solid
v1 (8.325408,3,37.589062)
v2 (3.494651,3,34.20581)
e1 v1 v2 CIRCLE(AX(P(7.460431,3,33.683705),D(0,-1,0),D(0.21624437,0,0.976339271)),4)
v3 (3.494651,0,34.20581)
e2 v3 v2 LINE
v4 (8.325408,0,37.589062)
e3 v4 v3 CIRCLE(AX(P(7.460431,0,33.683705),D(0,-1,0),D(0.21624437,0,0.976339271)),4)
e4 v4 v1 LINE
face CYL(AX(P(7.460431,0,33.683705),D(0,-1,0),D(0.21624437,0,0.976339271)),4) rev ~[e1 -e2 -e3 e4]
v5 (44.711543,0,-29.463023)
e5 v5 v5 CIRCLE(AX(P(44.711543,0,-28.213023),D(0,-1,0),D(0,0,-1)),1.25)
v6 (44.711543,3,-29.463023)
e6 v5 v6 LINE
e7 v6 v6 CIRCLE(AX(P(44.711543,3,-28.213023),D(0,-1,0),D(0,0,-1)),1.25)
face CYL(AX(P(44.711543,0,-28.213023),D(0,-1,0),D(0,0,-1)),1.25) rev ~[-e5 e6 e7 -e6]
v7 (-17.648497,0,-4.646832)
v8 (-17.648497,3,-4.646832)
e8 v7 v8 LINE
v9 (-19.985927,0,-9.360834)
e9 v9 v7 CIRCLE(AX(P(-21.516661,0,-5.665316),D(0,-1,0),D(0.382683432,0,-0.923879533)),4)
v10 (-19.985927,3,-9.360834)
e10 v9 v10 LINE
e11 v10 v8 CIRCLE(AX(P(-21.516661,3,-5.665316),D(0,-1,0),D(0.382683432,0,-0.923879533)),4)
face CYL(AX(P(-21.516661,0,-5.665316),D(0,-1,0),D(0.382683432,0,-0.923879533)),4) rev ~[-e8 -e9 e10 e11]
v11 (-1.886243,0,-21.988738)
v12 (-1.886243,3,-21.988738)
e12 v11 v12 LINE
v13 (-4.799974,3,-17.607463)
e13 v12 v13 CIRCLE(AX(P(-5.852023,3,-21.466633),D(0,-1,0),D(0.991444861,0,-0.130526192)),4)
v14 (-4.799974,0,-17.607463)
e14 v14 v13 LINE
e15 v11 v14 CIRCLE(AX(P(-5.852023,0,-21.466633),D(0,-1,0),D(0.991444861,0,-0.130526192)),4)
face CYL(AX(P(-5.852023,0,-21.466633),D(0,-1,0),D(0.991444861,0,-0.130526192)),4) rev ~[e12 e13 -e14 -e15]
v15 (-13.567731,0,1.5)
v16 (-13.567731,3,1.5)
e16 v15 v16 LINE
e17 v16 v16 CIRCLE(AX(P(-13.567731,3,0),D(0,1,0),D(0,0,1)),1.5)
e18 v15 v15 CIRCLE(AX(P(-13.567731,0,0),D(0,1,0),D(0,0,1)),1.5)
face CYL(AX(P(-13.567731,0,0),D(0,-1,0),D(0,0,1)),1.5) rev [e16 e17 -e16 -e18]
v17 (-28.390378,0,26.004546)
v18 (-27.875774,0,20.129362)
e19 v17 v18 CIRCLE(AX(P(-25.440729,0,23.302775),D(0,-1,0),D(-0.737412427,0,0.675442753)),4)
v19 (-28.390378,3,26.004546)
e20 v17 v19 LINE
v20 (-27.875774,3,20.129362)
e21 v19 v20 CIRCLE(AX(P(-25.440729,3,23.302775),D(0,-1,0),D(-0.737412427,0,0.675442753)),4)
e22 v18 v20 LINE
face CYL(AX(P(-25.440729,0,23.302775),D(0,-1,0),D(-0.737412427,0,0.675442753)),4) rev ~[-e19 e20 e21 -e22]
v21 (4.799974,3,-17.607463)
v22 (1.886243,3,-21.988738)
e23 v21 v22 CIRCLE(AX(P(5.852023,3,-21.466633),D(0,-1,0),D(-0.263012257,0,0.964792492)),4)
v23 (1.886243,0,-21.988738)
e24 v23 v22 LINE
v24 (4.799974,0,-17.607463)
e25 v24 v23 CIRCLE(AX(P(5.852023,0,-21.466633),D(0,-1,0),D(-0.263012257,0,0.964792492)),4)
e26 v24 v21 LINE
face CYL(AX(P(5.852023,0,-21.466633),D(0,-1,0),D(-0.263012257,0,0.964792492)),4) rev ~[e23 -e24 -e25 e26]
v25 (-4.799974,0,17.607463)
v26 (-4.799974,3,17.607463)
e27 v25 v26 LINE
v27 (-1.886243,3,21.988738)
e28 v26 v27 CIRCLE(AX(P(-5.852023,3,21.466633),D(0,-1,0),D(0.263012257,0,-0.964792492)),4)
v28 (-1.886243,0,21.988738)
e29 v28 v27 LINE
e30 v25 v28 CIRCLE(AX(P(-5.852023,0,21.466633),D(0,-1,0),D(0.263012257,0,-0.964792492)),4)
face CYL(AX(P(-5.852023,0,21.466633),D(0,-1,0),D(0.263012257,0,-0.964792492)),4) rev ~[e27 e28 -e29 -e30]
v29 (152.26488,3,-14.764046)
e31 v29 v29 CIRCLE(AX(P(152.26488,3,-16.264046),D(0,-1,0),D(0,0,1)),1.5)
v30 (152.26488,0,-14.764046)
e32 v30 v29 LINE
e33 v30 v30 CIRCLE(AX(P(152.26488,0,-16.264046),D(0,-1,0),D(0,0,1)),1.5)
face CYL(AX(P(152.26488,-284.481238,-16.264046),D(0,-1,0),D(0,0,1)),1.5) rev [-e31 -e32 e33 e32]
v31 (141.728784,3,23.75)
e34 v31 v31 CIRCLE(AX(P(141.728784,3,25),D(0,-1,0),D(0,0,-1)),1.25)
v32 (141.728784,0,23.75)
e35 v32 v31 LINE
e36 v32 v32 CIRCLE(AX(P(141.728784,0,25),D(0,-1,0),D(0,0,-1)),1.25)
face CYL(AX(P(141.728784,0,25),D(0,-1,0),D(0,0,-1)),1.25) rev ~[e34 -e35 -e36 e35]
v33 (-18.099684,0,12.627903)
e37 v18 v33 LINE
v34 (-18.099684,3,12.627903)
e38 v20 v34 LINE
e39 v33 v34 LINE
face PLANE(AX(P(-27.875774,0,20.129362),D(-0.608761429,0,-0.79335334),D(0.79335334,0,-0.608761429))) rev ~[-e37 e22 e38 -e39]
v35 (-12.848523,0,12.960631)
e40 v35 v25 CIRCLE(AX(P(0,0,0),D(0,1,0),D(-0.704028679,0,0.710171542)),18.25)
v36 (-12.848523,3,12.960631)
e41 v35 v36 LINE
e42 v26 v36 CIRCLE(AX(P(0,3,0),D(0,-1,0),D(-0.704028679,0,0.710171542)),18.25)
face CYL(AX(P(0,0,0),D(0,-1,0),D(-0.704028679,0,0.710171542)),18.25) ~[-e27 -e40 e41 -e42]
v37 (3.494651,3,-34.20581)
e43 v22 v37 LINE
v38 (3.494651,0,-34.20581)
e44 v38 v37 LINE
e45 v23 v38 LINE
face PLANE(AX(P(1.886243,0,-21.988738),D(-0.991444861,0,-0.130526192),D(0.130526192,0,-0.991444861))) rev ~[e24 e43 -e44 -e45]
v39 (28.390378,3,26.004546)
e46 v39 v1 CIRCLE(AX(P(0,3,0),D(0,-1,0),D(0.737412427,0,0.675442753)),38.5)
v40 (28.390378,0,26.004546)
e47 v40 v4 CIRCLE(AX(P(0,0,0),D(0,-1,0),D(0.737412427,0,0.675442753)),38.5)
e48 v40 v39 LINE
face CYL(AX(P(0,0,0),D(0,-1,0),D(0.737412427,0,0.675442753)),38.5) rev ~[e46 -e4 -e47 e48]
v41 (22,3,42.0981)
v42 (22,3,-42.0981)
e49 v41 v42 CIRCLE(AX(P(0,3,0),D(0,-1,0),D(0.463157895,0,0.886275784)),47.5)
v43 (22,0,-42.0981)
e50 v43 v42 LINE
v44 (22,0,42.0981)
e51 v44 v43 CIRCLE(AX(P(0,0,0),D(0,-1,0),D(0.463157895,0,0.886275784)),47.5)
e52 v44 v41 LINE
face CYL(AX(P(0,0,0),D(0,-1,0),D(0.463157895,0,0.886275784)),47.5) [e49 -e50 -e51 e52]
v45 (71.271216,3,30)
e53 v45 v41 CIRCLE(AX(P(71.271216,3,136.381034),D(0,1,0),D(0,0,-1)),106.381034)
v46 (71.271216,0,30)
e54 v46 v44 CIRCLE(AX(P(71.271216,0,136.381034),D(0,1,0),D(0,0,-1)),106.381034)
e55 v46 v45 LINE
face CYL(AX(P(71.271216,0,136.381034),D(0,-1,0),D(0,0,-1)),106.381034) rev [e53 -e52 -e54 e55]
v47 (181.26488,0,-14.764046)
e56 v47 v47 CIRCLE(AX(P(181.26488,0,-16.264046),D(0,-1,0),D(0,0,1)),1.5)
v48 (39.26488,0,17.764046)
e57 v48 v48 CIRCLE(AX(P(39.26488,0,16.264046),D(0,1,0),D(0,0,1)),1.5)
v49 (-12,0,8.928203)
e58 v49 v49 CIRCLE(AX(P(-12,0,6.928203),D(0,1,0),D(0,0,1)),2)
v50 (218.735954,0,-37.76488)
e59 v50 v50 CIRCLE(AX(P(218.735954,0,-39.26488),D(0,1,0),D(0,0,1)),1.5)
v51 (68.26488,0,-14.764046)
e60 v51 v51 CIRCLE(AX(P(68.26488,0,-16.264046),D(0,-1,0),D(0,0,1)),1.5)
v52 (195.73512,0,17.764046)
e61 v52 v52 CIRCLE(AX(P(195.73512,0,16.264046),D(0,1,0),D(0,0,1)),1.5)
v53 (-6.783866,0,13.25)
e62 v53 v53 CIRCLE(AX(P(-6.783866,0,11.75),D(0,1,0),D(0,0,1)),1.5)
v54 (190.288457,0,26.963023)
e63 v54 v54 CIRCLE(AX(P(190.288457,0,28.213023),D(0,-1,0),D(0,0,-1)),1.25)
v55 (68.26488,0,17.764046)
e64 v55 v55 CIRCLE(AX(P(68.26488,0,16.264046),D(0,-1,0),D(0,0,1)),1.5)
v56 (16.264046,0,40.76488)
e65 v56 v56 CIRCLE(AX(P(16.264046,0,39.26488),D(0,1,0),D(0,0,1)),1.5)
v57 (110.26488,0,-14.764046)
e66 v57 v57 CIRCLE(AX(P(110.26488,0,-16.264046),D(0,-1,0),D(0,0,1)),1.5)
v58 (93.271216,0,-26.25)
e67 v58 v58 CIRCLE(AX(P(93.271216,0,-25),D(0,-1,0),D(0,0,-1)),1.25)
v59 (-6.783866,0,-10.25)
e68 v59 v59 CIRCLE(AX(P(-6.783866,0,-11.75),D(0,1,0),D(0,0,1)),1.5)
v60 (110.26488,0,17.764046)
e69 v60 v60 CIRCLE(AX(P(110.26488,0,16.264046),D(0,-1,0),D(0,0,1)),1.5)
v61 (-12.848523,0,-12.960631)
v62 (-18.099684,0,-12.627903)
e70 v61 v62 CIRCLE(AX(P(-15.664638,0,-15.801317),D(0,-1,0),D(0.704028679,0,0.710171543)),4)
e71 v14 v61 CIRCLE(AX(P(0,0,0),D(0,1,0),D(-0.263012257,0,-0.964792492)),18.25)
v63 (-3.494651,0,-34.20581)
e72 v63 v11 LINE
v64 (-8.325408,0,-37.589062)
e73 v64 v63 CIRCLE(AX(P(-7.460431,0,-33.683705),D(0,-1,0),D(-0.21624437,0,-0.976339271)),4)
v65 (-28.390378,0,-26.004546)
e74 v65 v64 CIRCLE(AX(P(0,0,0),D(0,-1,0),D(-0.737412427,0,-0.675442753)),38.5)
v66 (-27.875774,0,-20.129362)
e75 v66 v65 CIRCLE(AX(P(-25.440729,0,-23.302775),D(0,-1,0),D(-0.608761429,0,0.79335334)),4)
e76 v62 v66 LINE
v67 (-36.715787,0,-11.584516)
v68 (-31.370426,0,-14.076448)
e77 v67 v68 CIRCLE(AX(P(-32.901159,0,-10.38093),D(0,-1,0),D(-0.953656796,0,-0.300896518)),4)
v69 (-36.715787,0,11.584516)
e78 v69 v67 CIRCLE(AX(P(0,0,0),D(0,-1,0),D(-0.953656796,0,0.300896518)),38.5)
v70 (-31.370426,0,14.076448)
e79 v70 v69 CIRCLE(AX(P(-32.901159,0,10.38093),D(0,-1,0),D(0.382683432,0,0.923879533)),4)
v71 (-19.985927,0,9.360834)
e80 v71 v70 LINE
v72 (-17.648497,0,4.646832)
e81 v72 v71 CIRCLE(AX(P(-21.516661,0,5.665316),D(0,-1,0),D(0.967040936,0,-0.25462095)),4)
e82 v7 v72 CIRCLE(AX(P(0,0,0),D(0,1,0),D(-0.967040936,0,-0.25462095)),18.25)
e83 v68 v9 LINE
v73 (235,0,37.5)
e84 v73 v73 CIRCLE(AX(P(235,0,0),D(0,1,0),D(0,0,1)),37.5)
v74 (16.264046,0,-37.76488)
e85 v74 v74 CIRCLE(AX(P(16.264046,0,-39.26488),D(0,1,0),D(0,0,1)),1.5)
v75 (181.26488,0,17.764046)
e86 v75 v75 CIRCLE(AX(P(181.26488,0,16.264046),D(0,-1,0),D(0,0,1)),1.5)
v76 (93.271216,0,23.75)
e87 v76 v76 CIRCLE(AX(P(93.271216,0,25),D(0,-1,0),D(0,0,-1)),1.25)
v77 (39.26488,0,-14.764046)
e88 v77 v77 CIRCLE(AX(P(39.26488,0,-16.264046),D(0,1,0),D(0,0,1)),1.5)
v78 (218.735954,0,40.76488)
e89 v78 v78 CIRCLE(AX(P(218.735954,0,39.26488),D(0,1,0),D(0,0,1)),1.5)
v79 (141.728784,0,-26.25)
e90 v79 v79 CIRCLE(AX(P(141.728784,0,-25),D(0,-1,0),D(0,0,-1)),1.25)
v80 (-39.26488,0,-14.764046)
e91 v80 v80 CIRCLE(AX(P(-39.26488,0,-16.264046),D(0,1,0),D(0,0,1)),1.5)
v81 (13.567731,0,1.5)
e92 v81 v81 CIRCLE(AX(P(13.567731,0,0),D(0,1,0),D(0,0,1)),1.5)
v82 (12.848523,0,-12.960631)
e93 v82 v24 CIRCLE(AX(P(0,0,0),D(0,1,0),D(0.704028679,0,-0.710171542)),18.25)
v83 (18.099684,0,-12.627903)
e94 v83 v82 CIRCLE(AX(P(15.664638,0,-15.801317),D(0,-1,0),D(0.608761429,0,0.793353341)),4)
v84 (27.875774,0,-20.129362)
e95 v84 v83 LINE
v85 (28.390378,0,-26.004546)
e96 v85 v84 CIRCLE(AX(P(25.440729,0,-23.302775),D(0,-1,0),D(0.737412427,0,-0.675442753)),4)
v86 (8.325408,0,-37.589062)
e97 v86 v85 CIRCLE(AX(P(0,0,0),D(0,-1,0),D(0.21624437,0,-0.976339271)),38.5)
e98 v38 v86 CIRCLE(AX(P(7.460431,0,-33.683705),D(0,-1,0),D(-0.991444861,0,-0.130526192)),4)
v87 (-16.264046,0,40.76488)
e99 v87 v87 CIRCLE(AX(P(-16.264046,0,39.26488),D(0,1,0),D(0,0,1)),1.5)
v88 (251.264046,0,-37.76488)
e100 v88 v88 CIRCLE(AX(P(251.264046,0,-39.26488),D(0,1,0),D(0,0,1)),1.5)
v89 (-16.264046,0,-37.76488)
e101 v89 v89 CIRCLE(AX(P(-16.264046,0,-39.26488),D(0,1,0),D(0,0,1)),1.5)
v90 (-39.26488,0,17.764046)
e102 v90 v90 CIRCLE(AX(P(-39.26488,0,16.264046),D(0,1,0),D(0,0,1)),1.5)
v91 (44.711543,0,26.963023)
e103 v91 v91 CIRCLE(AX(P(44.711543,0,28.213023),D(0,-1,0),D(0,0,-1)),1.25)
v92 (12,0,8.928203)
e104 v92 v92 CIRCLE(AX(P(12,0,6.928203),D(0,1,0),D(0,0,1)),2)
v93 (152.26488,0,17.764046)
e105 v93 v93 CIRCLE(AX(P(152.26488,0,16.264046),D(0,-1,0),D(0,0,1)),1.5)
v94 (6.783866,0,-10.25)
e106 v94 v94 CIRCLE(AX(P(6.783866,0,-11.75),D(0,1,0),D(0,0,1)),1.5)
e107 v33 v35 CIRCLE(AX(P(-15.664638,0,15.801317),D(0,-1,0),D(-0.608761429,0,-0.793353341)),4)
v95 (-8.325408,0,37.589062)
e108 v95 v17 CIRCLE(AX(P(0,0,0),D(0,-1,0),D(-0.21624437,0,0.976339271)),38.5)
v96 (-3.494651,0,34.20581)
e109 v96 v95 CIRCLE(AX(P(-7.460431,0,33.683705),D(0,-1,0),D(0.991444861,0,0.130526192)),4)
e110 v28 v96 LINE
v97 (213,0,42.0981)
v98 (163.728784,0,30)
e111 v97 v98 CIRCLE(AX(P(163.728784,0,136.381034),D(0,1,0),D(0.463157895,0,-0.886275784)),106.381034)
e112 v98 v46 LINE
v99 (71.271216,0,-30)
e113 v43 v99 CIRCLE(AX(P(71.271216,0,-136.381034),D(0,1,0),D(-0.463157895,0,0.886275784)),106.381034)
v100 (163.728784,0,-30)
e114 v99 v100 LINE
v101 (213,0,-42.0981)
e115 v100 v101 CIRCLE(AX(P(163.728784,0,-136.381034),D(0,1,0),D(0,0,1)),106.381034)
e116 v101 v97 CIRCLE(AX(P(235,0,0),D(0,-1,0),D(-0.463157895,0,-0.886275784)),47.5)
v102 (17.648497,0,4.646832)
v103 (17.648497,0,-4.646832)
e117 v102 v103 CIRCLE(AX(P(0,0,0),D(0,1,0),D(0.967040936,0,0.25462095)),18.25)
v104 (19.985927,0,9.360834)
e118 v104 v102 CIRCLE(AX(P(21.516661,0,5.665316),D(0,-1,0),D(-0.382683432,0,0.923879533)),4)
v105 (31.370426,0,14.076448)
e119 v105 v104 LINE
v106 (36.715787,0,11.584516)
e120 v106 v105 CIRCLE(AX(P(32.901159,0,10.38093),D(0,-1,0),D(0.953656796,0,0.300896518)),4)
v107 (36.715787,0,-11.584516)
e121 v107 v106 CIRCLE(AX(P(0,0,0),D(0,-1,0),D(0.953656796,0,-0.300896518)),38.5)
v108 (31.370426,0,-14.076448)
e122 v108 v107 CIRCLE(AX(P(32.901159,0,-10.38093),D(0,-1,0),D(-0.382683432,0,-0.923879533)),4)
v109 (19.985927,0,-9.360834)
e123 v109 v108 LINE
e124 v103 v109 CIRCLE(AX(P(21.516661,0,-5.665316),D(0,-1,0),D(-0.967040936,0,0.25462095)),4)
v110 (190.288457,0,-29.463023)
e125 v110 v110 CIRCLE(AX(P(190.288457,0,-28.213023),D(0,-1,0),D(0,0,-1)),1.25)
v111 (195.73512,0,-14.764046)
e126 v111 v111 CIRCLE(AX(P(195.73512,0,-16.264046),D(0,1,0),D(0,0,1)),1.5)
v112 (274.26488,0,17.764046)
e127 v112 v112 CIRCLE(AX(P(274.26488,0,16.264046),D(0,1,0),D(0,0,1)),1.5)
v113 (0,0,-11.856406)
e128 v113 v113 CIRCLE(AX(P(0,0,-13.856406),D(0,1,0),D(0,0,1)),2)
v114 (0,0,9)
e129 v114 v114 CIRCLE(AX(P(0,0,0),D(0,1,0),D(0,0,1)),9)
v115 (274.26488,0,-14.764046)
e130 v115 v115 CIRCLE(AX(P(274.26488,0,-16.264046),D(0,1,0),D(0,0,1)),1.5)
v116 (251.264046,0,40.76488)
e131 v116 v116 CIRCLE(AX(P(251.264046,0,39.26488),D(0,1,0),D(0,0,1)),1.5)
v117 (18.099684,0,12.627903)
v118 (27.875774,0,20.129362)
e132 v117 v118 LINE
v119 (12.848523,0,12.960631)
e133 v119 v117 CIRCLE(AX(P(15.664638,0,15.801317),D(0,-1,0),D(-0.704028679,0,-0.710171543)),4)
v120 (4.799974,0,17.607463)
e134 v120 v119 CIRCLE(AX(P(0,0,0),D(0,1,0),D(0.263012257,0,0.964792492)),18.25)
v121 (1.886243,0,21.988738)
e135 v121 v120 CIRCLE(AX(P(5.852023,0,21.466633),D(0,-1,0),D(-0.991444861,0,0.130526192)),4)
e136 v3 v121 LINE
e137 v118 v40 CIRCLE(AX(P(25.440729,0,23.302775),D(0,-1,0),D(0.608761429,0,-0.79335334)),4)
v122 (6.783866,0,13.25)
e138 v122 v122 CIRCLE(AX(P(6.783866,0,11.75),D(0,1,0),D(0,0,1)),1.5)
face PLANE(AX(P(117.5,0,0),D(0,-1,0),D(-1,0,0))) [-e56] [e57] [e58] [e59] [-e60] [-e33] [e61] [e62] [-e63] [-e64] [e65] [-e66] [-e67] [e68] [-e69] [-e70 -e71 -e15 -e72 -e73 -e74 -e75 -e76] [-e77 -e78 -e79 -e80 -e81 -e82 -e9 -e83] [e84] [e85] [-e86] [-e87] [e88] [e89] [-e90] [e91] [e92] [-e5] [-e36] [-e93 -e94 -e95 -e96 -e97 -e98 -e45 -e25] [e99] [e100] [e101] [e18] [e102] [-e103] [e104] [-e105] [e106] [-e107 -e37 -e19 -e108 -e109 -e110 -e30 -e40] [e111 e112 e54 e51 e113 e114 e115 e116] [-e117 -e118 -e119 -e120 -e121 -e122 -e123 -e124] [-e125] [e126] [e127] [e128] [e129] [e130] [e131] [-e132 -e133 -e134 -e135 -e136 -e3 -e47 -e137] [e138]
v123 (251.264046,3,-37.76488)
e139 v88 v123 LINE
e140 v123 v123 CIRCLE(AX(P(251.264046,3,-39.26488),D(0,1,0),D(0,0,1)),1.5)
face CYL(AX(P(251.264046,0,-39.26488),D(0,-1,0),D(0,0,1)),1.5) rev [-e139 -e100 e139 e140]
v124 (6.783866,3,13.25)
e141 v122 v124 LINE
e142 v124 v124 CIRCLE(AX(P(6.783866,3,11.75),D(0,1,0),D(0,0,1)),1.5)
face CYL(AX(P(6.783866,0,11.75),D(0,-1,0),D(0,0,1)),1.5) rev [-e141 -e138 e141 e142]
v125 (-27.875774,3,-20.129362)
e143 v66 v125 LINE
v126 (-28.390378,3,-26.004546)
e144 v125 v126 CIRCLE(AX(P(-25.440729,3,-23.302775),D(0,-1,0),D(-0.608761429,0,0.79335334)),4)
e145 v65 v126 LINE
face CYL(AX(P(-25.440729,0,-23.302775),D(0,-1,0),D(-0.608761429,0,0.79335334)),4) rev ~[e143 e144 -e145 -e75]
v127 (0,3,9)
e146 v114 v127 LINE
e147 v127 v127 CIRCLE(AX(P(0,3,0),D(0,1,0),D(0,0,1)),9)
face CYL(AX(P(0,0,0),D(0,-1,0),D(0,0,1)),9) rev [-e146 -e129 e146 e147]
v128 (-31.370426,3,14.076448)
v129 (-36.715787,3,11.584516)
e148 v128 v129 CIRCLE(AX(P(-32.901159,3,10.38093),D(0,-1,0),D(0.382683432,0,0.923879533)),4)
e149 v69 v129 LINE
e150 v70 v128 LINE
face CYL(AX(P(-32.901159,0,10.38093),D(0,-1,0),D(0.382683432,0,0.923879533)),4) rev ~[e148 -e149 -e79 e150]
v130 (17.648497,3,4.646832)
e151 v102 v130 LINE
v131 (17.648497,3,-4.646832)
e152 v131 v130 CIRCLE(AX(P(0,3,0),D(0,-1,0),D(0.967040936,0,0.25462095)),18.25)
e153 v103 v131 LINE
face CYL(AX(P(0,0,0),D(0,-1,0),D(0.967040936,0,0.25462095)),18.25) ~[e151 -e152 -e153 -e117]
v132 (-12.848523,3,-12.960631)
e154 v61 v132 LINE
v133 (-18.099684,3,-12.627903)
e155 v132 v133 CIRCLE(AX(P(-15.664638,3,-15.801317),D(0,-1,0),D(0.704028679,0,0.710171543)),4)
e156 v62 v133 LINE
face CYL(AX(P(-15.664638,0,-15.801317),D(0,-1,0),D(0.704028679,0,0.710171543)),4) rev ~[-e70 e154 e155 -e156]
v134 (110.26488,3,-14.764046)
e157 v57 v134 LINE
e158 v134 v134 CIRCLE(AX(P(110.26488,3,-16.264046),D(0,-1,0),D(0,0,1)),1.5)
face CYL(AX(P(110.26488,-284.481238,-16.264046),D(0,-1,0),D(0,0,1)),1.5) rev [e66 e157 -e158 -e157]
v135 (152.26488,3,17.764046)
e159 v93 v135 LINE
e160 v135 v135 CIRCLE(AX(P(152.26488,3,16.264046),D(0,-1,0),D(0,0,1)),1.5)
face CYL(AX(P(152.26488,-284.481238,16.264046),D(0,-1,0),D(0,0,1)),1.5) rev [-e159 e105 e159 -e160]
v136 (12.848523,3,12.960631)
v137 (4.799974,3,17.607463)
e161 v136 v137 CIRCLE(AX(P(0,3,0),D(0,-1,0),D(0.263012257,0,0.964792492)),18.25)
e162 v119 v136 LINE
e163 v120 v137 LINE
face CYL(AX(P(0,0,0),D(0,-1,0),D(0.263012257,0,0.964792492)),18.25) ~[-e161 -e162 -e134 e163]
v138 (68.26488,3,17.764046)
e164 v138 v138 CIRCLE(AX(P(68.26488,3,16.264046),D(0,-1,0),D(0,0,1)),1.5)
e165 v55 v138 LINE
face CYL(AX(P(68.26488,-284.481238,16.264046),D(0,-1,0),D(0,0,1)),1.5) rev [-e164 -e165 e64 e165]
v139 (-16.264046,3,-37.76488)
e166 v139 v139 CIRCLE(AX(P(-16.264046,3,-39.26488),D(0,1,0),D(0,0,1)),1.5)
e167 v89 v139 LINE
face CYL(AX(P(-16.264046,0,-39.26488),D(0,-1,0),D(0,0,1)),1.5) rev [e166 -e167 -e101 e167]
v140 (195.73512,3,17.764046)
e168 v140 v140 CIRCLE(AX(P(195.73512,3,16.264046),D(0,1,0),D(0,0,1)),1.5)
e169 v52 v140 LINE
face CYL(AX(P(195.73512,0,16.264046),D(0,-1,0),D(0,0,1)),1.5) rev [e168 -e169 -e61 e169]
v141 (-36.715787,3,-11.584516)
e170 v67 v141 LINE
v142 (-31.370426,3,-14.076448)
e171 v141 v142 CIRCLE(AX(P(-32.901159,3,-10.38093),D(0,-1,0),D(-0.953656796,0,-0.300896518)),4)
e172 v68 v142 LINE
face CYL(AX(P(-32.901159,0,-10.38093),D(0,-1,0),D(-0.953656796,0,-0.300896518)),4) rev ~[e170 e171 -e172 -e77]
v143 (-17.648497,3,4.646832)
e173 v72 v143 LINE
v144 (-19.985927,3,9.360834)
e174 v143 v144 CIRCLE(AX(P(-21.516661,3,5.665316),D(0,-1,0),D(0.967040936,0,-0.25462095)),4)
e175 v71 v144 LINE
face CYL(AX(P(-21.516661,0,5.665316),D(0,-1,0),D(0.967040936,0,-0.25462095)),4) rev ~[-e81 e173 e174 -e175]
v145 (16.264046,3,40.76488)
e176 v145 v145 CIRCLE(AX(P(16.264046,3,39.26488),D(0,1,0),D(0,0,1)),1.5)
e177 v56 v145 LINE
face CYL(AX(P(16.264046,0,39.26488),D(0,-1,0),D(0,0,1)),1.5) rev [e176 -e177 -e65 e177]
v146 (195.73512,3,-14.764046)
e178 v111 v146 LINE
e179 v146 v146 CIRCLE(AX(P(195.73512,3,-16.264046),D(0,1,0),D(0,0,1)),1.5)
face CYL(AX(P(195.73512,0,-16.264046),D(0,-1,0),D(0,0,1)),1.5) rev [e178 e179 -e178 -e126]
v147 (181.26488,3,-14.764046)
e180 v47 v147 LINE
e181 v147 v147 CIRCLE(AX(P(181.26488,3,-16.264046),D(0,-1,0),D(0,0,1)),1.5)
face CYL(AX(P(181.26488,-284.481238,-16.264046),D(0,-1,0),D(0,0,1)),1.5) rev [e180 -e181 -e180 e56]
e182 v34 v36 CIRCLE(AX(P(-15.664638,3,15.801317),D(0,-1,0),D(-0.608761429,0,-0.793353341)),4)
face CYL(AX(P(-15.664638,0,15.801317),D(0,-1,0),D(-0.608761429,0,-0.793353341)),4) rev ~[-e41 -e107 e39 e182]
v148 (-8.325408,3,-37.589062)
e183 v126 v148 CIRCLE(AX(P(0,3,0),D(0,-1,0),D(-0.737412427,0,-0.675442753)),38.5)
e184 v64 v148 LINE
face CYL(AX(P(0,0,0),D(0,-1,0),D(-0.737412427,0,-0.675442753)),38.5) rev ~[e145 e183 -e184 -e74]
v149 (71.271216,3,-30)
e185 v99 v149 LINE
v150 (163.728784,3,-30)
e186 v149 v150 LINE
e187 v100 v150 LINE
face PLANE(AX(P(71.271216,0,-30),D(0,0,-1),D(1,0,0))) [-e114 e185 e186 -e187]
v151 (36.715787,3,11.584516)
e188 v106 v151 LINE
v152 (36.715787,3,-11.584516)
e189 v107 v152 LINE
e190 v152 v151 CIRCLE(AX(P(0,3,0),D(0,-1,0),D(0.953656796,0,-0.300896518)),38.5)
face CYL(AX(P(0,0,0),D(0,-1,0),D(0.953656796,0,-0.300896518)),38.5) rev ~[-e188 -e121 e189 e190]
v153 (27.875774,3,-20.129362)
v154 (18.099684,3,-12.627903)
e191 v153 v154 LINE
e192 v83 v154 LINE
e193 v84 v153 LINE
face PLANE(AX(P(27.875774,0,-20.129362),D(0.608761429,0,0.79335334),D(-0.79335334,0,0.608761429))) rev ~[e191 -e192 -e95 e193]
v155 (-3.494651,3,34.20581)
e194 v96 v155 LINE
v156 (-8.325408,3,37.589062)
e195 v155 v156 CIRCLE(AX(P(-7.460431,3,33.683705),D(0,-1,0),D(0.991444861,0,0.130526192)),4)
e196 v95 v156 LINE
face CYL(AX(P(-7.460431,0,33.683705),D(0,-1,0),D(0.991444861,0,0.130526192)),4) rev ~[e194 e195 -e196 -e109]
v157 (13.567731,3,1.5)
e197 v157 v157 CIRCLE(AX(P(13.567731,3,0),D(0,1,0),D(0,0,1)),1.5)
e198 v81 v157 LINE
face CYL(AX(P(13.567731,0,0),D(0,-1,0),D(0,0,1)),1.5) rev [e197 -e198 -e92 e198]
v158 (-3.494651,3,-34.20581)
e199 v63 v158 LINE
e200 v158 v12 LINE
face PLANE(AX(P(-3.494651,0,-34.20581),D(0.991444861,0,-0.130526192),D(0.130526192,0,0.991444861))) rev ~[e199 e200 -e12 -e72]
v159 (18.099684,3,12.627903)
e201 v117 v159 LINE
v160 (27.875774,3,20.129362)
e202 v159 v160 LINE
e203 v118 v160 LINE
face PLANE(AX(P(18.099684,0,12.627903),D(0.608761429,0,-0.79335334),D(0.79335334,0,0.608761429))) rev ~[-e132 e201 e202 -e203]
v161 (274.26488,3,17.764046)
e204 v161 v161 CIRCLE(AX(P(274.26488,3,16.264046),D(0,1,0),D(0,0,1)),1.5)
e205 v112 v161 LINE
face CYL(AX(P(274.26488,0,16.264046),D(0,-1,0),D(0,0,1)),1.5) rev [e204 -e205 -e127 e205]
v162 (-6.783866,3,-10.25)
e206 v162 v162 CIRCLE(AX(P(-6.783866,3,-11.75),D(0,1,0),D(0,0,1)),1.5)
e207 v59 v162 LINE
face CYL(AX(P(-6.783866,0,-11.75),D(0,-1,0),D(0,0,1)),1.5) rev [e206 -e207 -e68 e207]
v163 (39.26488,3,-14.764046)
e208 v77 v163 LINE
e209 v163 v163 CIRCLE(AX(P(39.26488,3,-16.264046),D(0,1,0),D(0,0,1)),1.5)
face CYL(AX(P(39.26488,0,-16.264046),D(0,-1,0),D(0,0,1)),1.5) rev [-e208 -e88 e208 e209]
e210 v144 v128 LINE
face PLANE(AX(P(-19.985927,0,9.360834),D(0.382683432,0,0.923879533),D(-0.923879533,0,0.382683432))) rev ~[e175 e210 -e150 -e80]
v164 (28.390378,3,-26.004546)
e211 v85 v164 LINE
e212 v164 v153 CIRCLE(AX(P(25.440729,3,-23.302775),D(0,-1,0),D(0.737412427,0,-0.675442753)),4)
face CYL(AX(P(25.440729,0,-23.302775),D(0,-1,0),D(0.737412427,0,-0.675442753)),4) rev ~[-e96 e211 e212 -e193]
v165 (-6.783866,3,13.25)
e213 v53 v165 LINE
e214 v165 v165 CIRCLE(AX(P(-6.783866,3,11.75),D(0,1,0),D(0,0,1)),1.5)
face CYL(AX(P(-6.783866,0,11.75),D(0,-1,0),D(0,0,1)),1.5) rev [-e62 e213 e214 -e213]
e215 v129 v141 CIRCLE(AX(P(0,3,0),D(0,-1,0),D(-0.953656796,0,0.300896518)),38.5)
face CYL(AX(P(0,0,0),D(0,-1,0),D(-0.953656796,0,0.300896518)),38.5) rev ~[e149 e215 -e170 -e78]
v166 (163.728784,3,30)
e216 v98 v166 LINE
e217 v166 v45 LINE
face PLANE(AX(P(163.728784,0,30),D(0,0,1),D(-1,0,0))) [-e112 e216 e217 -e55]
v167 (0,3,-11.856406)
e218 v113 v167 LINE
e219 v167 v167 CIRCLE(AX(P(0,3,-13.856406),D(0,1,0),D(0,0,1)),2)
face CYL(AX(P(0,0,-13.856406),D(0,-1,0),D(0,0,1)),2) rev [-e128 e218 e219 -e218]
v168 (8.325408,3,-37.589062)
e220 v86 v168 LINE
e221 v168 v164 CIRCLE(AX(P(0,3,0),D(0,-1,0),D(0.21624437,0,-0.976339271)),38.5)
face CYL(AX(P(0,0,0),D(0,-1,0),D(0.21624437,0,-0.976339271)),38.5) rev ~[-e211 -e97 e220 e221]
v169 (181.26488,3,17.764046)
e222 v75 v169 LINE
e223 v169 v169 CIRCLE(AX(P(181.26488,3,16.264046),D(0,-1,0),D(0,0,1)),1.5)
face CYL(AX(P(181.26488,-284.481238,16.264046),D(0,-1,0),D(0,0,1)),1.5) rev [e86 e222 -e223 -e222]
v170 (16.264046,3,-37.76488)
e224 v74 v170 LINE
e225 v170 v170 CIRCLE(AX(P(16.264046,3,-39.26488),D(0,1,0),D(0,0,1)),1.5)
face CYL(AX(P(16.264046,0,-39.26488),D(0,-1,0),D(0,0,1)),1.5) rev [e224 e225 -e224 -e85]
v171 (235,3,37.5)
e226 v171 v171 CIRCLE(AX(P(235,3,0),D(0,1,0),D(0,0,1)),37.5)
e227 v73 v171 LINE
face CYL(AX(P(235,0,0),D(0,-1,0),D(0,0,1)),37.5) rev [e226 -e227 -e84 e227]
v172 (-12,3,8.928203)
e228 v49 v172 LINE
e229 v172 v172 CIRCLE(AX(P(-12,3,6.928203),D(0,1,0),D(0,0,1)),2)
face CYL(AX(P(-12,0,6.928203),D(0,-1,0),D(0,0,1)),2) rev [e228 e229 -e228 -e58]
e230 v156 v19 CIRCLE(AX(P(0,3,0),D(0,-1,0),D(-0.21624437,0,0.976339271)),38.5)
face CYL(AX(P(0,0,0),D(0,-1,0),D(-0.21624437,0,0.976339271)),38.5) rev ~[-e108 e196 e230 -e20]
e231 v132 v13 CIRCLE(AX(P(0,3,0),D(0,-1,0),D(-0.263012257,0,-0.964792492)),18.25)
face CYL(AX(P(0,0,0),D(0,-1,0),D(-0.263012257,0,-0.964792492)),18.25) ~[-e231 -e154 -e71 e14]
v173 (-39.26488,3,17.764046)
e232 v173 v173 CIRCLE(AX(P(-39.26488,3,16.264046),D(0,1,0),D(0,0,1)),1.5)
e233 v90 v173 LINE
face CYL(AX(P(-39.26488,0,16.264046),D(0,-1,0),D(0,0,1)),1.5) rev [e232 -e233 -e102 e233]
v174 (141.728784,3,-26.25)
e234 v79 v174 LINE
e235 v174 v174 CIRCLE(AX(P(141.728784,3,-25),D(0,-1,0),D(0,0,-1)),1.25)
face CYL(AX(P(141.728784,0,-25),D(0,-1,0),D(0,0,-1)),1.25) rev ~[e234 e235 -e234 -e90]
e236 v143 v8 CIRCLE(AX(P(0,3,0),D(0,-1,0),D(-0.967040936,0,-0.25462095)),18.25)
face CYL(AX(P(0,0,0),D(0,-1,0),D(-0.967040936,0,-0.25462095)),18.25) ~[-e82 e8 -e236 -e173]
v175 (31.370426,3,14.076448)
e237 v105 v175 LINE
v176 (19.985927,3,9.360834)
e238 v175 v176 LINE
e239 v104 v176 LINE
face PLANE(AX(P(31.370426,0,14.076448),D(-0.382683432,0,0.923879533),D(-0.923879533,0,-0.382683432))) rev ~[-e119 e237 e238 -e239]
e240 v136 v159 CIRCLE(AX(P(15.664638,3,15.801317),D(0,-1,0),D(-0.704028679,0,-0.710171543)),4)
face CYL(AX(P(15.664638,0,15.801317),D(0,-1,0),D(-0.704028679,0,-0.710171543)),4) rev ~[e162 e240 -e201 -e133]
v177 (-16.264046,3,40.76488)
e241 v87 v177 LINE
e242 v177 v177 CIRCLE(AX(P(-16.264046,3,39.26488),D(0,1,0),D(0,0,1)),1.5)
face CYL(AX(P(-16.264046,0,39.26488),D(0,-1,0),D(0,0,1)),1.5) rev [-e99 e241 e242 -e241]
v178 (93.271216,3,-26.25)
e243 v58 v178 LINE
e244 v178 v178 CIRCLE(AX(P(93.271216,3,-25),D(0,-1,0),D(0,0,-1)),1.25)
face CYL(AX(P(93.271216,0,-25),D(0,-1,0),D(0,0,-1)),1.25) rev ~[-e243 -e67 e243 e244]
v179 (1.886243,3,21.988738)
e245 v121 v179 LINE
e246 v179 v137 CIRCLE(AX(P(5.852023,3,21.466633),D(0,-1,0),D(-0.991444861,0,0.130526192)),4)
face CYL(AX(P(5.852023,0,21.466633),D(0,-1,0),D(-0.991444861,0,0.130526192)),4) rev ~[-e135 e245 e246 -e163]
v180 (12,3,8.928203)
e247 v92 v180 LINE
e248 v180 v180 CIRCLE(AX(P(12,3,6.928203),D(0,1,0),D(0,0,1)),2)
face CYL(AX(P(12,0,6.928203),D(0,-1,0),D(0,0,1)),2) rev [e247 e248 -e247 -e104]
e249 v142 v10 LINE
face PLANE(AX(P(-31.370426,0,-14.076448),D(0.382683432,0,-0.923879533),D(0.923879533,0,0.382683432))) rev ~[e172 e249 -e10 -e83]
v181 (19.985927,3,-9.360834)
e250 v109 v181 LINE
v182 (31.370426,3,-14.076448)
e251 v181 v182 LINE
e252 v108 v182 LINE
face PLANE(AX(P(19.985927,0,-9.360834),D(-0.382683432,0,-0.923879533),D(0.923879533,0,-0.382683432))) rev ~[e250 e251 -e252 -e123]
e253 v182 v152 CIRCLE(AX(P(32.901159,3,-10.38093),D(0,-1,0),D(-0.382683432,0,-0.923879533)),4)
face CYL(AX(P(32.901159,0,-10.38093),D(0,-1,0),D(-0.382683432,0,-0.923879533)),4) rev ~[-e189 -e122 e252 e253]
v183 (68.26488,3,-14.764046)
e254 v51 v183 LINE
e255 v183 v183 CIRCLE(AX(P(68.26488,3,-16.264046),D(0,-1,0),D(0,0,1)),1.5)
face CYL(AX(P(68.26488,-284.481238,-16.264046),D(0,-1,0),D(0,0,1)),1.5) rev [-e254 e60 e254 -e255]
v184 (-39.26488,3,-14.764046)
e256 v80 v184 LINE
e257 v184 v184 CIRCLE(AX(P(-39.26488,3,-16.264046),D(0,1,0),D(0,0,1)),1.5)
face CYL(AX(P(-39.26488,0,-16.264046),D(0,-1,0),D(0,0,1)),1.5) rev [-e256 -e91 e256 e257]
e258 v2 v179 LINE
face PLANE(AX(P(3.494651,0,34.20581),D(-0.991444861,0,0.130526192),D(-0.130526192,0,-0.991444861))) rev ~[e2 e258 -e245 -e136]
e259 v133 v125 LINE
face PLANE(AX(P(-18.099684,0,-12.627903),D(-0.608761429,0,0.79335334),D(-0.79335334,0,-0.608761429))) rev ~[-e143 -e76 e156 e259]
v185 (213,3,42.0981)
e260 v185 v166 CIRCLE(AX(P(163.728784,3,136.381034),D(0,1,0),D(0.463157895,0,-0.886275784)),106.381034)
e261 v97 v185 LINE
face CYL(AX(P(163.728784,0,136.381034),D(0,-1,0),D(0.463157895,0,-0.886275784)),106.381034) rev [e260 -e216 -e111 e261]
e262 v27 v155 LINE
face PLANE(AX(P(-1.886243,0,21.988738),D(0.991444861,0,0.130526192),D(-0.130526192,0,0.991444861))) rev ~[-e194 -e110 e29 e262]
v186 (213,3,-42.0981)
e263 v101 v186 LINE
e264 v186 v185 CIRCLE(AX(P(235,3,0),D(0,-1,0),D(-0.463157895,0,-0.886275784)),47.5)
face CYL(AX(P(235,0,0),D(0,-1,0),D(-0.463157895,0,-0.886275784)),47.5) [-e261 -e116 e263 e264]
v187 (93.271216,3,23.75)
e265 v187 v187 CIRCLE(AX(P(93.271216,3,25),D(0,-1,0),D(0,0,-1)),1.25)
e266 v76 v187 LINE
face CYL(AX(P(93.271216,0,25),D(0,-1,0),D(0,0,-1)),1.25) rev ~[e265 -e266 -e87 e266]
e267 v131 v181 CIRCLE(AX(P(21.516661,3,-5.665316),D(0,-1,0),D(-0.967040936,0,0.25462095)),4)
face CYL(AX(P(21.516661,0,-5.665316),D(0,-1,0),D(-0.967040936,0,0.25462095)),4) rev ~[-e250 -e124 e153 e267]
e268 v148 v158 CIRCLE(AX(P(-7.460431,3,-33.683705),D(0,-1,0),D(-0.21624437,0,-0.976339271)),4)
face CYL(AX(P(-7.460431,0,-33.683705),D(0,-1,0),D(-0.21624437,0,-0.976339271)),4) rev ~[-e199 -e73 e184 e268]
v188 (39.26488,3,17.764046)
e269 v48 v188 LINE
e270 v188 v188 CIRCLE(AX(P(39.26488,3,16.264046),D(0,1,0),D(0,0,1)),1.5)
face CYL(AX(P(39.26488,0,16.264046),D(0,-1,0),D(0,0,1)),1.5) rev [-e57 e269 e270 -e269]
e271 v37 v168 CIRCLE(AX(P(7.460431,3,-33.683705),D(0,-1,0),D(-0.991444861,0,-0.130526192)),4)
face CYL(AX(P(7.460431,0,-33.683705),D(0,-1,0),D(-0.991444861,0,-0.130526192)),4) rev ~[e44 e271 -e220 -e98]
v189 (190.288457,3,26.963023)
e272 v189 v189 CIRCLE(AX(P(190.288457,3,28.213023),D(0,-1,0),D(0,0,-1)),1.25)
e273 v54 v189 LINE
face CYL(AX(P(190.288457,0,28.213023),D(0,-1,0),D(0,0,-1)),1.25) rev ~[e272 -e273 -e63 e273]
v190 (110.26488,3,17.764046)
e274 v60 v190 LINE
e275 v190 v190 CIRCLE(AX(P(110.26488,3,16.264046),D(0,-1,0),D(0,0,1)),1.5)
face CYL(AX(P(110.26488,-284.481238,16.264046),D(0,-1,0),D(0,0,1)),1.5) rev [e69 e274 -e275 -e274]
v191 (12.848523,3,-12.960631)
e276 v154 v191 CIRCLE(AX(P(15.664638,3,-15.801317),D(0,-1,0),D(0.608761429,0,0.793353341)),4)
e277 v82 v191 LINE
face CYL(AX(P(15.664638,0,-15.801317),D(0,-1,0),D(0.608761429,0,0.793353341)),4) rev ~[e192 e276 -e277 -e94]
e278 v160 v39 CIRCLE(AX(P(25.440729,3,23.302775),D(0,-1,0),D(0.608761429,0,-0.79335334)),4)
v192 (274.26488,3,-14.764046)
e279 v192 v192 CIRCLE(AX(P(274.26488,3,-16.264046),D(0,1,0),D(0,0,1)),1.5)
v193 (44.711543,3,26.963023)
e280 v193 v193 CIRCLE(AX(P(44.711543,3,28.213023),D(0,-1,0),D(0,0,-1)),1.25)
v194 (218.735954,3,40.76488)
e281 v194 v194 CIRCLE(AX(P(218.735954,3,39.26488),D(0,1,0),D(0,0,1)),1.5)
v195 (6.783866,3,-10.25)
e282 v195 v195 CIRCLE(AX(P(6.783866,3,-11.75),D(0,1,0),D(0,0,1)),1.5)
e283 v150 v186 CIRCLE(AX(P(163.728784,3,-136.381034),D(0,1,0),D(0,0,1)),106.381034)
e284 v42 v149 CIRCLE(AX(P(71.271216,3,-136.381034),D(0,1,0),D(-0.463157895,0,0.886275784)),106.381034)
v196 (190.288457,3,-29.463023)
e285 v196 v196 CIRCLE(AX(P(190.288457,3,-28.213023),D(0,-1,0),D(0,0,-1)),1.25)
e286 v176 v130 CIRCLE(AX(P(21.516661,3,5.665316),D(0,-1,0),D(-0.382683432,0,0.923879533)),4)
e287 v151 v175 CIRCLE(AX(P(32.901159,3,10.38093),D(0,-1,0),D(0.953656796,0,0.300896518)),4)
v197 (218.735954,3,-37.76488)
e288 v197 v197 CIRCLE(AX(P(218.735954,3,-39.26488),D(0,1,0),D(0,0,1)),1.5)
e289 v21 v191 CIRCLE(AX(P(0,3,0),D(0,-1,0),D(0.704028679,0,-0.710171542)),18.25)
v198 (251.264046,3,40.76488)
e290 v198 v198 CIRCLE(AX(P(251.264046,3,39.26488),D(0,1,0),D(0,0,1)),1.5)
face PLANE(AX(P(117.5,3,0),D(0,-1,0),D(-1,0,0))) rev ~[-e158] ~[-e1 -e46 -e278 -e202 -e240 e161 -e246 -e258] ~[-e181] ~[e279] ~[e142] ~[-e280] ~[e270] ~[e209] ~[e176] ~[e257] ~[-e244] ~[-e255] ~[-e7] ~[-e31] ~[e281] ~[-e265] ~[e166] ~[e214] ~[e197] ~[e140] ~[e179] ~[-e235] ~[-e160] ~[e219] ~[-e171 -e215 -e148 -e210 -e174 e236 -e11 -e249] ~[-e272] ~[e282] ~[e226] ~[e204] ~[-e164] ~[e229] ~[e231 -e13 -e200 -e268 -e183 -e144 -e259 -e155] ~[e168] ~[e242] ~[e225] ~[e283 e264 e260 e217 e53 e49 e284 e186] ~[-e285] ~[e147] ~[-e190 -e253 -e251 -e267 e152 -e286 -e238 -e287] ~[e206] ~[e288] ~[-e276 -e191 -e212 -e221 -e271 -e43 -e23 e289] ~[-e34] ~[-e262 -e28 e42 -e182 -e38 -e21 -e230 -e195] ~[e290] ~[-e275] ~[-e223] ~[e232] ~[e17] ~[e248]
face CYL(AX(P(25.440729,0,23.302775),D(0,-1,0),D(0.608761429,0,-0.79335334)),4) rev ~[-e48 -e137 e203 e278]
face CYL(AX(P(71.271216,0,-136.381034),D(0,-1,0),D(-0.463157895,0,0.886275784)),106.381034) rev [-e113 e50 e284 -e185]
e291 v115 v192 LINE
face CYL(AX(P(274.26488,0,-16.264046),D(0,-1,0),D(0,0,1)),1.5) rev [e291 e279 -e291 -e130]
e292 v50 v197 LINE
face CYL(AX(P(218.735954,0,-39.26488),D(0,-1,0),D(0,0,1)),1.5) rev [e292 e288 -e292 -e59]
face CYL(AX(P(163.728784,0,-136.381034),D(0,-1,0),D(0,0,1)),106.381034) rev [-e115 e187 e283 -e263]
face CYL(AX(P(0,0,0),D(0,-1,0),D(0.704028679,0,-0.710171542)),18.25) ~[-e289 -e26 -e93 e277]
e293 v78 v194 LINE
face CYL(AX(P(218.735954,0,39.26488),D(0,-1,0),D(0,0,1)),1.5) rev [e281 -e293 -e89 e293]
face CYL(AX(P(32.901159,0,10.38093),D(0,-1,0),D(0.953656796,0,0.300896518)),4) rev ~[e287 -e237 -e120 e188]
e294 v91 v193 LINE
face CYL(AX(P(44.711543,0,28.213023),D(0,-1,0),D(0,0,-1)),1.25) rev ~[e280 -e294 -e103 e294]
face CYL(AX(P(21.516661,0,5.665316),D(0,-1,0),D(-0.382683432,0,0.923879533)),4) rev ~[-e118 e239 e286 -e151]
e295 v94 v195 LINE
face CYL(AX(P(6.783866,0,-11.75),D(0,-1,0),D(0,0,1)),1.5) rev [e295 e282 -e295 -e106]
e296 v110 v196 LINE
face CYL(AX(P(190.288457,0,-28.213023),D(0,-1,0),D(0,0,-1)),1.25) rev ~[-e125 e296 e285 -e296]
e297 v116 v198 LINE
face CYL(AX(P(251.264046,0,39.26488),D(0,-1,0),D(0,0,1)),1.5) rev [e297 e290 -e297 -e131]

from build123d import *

# Parameters (mm, degrees)
SKETCH_1_R               = 1.5
SKETCH_1_R_2             = 37.5
SKETCH_1_R_3             = 9
SKETCH_1_R_4             = 2
EXTRUDE_1_DEPTH          = 3
SKETCH_2_R               = 1.25
CUT_EXTRUDE_1_DEPTH      = 10
CUT_EXTRUDE_2_DEPTH      = 10
CUT_EXTRUDE_3_DEPTH      = 287.481238478
CUT_EXTRUDE_3_DEPTH_BACK = 287.481238478
SKETCH_4_R               = 1.5


with BuildPart() as part:
    # 草图1 → 凸台-拉伸1 (new body)
    with BuildSketch(Plane(origin=(0, 0, 0), x_dir=(1, 0, 0), z_dir=(0, 1, 0))):
        with BuildLine():
            Line((71.271215686, 30), (163.728784314, 30))
            ThreePointArc((163.728784314, 30), (189.096168452, 33.068787794), (213, 42.09809972))
            ThreePointArc((213, 42.09809972), (282.5, 0), (213, -42.09809972))
            ThreePointArc((213, -42.09809972), (189.096168452, -33.068787794), (163.728784314, -30))
            Line((163.728784314, -30), (71.271215686, -30))
            ThreePointArc((71.271215686, -30), (45.903831548, -33.068787794), (22, -42.09809972))
            ThreePointArc((22, -42.09809972), (-47.5, 0), (22, 42.09809972))
            ThreePointArc((22, 42.09809972), (45.903831548, 33.068787794), (71.271215686, 30))
        make_face()
        with Locations(Location((218.735954124, 39.264880132, 0), (0, 0, 270))):
            Circle(SKETCH_1_R, mode=Mode.SUBTRACT)
        with Locations(Location((251.264045876, 39.264880132, 0), (0, 0, 270))):
            Circle(SKETCH_1_R, mode=Mode.SUBTRACT)
        with Locations(Location((274.264880132, 16.264045876, 0), (0, 0, 270))):
            Circle(SKETCH_1_R, mode=Mode.SUBTRACT)
        with Locations(Location((274.264880132, -16.264045876, 0), (0, 0, 270))):
            Circle(SKETCH_1_R, mode=Mode.SUBTRACT)
        with Locations(Location((251.264045876, -39.264880132, 0), (0, 0, 270))):
            Circle(SKETCH_1_R, mode=Mode.SUBTRACT)
        with Locations(Location((218.735954124, -39.264880132, 0), (0, 0, 270))):
            Circle(SKETCH_1_R, mode=Mode.SUBTRACT)
        with Locations(Location((195.735119868, -16.264045876, 0), (0, 0, 270))):
            Circle(SKETCH_1_R, mode=Mode.SUBTRACT)
        with Locations(Location((195.735119868, 16.264045876, 0), (0, 0, 270))):
            Circle(SKETCH_1_R, mode=Mode.SUBTRACT)
        with Locations(Location((235, 0, 0), (0, 0, 270))):
            Circle(SKETCH_1_R_2, mode=Mode.SUBTRACT)
        with Locations(Location((-16.264045876, 39.264880132, 0), (0, 0, 270))):
            Circle(SKETCH_1_R, mode=Mode.SUBTRACT)
        with Locations(Location((16.264045876, 39.264880132, 0), (0, 0, 270))):
            Circle(SKETCH_1_R, mode=Mode.SUBTRACT)
        with Locations(Location((39.264880132, 16.264045876, 0), (0, 0, 270))):
            Circle(SKETCH_1_R, mode=Mode.SUBTRACT)
        with Locations(Location((39.264880132, -16.264045876, 0), (0, 0, 270))):
            Circle(SKETCH_1_R, mode=Mode.SUBTRACT)
        with Locations(Location((16.264045876, -39.264880132, 0), (0, 0, 270))):
            Circle(SKETCH_1_R, mode=Mode.SUBTRACT)
        with Locations(Location((-16.264045876, -39.264880132, 0), (0, 0, 270))):
            Circle(SKETCH_1_R, mode=Mode.SUBTRACT)
        with Locations(Location((-39.264880132, -16.264045876, 0), (0, 0, 270))):
            Circle(SKETCH_1_R, mode=Mode.SUBTRACT)
        with Locations(Location((-39.264880132, 16.264045876, 0), (0, 0, 270))):
            Circle(SKETCH_1_R, mode=Mode.SUBTRACT)
        with Locations(Location((0, 0, 0), (0, 0, 270))):
            Circle(SKETCH_1_R_3, mode=Mode.SUBTRACT)
        with Locations(Location((-6.783865663, 11.75, 0), (0, 0, 270))):
            Circle(SKETCH_1_R, mode=Mode.SUBTRACT)
        with Locations(Location((6.783865663, 11.75, 0), (0, 0, 270))):
            Circle(SKETCH_1_R, mode=Mode.SUBTRACT)
        with Locations(Location((13.567731326, 0, 0), (0, 0, 270))):
            Circle(SKETCH_1_R, mode=Mode.SUBTRACT)
        with Locations(Location((6.783865663, -11.75, 0), (0, 0, 270))):
            Circle(SKETCH_1_R, mode=Mode.SUBTRACT)
        with Locations(Location((-6.783865663, -11.75, 0), (0, 0, 270))):
            Circle(SKETCH_1_R, mode=Mode.SUBTRACT)
        with Locations(Location((-13.567731326, 0, 0), (0, 0, 270))):
            Circle(SKETCH_1_R, mode=Mode.SUBTRACT)
        with Locations(Location((0, 13.856406461, 0), (0, 0, 270))):
            Circle(SKETCH_1_R_4, mode=Mode.SUBTRACT)
        with Locations(Location((-12, -6.92820323, 0), (0, 0, 270))):
            Circle(SKETCH_1_R_4, mode=Mode.SUBTRACT)
        with Locations(Location((12, -6.92820323, 0), (0, 0, 270))):
            Circle(SKETCH_1_R_4, mode=Mode.SUBTRACT)
    extrude(amount=EXTRUDE_1_DEPTH)

    # 草图2 → 切除-拉伸1 (cut)
    with BuildSketch(Plane.XZ):
        with Locations(Location((190.288457303, 28.213023457, 0), (0, 0, 270))):
            Circle(SKETCH_2_R)
        with Locations(Location((141.728784314, 25, 0), (0, 0, 270))):
            Circle(SKETCH_2_R)
        with Locations(Location((93.271215686, 25, 0), (0, 0, 270))):
            Circle(SKETCH_2_R)
        with Locations(Location((44.711542697, 28.213023457, 0), (0, 0, 270))):
            Circle(SKETCH_2_R)
        with Locations(Location((44.711542697, -28.213023457, 0), (0, 0, 270))):
            Circle(SKETCH_2_R)
        with Locations(Location((93.271215686, -25, 0), (0, 0, 270))):
            Circle(SKETCH_2_R)
        with Locations(Location((141.728784314, -25, 0), (0, 0, 270))):
            Circle(SKETCH_2_R)
        with Locations(Location((190.288457303, -28.213023457, 0), (0, 0, 270.000000002))):
            Circle(SKETCH_2_R)
    extrude(amount=-CUT_EXTRUDE_1_DEPTH, mode=Mode.SUBTRACT)

    # 草图3 → 切除-拉伸2 (cut)
    with BuildSketch(Plane.XZ):
        with BuildLine():
            Line((3.494651309, 34.205809627), (1.886243278, 21.988737715))
            ThreePointArc((1.886243278, 21.988737715), (2.52132569, 19.251580515), (4.799973695, 17.607462978))
            ThreePointArc((4.799973695, 17.607462978), (9.125, 15.804963619), (12.848523388, 12.960630646))
            ThreePointArc((12.848523388, 12.960630646), (15.411694944, 11.809322357), (18.099683819, 12.627903454))
            Line((18.099683819, 12.627903454), (27.875774439, 20.129361624))
            ThreePointArc((27.875774439, 20.129361624), (29.425472637, 22.953753578), (28.390378431, 26.004545998))
            ThreePointArc((28.390378431, 26.004545998), (19.25, 33.341978046), (8.325408233, 37.589061943))
            ThreePointArc((8.325408233, 37.589061943), (5.165797392, 36.960083611), (3.494651309, 34.205809627))
        make_face()
        with BuildLine():
            Line((31.370425748, 14.076448003), (19.985927097, 9.360834261))
            ThreePointArc((19.985927097, 9.360834261), (17.933020634, 7.442258159), (17.648497083, 4.646832332))
            ThreePointArc((17.648497083, 4.646832332), (18.25, 0), (17.648497083, -4.646832332))
            ThreePointArc((17.648497083, -4.646832332), (17.933020634, -7.442258159), (19.985927097, -9.360834261))
            Line((19.985927097, -9.360834261), (31.370425748, -14.076448003))
            ThreePointArc((31.370425748, -14.076448003), (34.591270029, -14.006330033), (36.715786664, -11.584515945))
            ThreePointArc((36.715786664, -11.584515945), (38.5, 0), (36.715786664, 11.584515945))
            ThreePointArc((36.715786664, 11.584515945), (34.591270029, 14.006330033), (31.370425748, 14.076448003))
        make_face()
        with BuildLine():
            Line((27.875774439, -20.129361624), (18.099683819, -12.627903454))
            ThreePointArc((18.099683819, -12.627903454), (15.411694944, -11.809322357), (12.848523388, -12.960630646))
            ThreePointArc((12.848523388, -12.960630646), (9.125, -15.804963619), (4.799973695, -17.607462978))
            ThreePointArc((4.799973695, -17.607462978), (2.52132569, -19.251580515), (1.886243278, -21.988737715))
            Line((1.886243278, -21.988737715), (3.494651309, -34.205809627))
            ThreePointArc((3.494651309, -34.205809627), (5.165797392, -36.960083611), (8.325408233, -37.589061943))
            ThreePointArc((8.325408233, -37.589061943), (19.25, -33.341978046), (28.390378431, -26.004545998))
            ThreePointArc((28.390378431, -26.004545998), (29.425472637, -22.953753578), (27.875774439, -20.129361624))
        make_face()
        with BuildLine():
            Line((-3.494651309, -34.205809627), (-1.886243278, -21.988737715))
            ThreePointArc((-1.886243278, -21.988737715), (-2.52132569, -19.251580515), (-4.799973695, -17.607462978))
            ThreePointArc((-4.799973695, -17.607462978), (-9.125, -15.804963619), (-12.848523388, -12.960630646))
            ThreePointArc((-12.848523388, -12.960630646), (-15.411694944, -11.809322357), (-18.099683819, -12.627903454))
            Line((-18.099683819, -12.627903454), (-27.875774439, -20.129361624))
            ThreePointArc((-27.875774439, -20.129361624), (-29.425472637, -22.953753578), (-28.390378431, -26.004545998))
            ThreePointArc((-28.390378431, -26.004545998), (-19.25, -33.341978046), (-8.325408233, -37.589061943))
            ThreePointArc((-8.325408233, -37.589061943), (-5.165797392, -36.960083611), (-3.494651309, -34.205809627))
        make_face()
        with BuildLine():
            Line((-31.370425748, -14.076448003), (-19.985927097, -9.360834261))
            ThreePointArc((-19.985927097, -9.360834261), (-17.933020634, -7.442258159), (-17.648497083, -4.646832332))
            ThreePointArc((-17.648497083, -4.646832332), (-18.25, 0), (-17.648497083, 4.646832332))
            ThreePointArc((-17.648497083, 4.646832332), (-17.933020634, 7.442258159), (-19.985927097, 9.360834261))
            Line((-19.985927097, 9.360834261), (-31.370425748, 14.076448003))
            ThreePointArc((-31.370425748, 14.076448003), (-34.591270029, 14.006330033), (-36.715786664, 11.584515945))
            ThreePointArc((-36.715786664, 11.584515945), (-38.5, 0), (-36.715786664, -11.584515945))
            ThreePointArc((-36.715786664, -11.584515945), (-34.591270029, -14.006330033), (-31.370425748, -14.076448003))
        make_face()
        with BuildLine():
            Line((-27.875774439, 20.129361624), (-18.099683819, 12.627903454))
            ThreePointArc((-18.099683819, 12.627903454), (-15.411694944, 11.809322357), (-12.848523388, 12.960630646))
            ThreePointArc((-12.848523388, 12.960630646), (-9.125, 15.804963619), (-4.799973695, 17.607462978))
            ThreePointArc((-4.799973695, 17.607462978), (-2.52132569, 19.251580515), (-1.886243278, 21.988737715))
            Line((-1.886243278, 21.988737715), (-3.494651309, 34.205809627))
            ThreePointArc((-3.494651309, 34.205809627), (-5.165797392, 36.960083611), (-8.325408233, 37.589061943))
            ThreePointArc((-8.325408233, 37.589061943), (-19.25, 33.341978046), (-28.390378431, 26.004545998))
            ThreePointArc((-28.390378431, 26.004545998), (-29.425472637, 22.953753578), (-27.875774439, 20.129361624))
        make_face()
    extrude(amount=-CUT_EXTRUDE_2_DEPTH, mode=Mode.SUBTRACT)

    # 草图4 → 切除-拉伸3 (cut, two sides: drawn at the far end of the back side and taken through both)
    with BuildSketch(Plane(origin=(0, 3, 0), x_dir=(1, 0, 0), z_dir=(0, 1, 0)).offset(-CUT_EXTRUDE_3_DEPTH_BACK)):
        with Locations(Location((68.264880132, -16.264045876, 0), (0, 0, 270))):
            Circle(SKETCH_4_R)
        with Locations(Location((110.264880132, -16.264045876, 0), (0, 0, 270))):
            Circle(SKETCH_4_R)
        with Locations(Location((181.264880132, -16.264045876, 0), (0, 0, 270))):
            Circle(SKETCH_4_R)
        with Locations(Location((152.264880132, -16.264045876, 0), (0, 0, 270))):
            Circle(SKETCH_4_R)
        with Locations(Location((181.264880132, 16.264045876, 0), (0, 0, 270))):
            Circle(SKETCH_4_R)
        with Locations(Location((152.264880132, 16.264045876, 0), (0, 0, 270))):
            Circle(SKETCH_4_R)
        with Locations(Location((110.264880132, 16.264045876, 0), (0, 0, 270))):
            Circle(SKETCH_4_R)
        with Locations(Location((68.264880132, 16.264045876, 0), (0, 0, 270))):
            Circle(SKETCH_4_R)
    extrude(amount=CUT_EXTRUDE_3_DEPTH + CUT_EXTRUDE_3_DEPTH_BACK, mode=Mode.SUBTRACT)


solid = part.part
